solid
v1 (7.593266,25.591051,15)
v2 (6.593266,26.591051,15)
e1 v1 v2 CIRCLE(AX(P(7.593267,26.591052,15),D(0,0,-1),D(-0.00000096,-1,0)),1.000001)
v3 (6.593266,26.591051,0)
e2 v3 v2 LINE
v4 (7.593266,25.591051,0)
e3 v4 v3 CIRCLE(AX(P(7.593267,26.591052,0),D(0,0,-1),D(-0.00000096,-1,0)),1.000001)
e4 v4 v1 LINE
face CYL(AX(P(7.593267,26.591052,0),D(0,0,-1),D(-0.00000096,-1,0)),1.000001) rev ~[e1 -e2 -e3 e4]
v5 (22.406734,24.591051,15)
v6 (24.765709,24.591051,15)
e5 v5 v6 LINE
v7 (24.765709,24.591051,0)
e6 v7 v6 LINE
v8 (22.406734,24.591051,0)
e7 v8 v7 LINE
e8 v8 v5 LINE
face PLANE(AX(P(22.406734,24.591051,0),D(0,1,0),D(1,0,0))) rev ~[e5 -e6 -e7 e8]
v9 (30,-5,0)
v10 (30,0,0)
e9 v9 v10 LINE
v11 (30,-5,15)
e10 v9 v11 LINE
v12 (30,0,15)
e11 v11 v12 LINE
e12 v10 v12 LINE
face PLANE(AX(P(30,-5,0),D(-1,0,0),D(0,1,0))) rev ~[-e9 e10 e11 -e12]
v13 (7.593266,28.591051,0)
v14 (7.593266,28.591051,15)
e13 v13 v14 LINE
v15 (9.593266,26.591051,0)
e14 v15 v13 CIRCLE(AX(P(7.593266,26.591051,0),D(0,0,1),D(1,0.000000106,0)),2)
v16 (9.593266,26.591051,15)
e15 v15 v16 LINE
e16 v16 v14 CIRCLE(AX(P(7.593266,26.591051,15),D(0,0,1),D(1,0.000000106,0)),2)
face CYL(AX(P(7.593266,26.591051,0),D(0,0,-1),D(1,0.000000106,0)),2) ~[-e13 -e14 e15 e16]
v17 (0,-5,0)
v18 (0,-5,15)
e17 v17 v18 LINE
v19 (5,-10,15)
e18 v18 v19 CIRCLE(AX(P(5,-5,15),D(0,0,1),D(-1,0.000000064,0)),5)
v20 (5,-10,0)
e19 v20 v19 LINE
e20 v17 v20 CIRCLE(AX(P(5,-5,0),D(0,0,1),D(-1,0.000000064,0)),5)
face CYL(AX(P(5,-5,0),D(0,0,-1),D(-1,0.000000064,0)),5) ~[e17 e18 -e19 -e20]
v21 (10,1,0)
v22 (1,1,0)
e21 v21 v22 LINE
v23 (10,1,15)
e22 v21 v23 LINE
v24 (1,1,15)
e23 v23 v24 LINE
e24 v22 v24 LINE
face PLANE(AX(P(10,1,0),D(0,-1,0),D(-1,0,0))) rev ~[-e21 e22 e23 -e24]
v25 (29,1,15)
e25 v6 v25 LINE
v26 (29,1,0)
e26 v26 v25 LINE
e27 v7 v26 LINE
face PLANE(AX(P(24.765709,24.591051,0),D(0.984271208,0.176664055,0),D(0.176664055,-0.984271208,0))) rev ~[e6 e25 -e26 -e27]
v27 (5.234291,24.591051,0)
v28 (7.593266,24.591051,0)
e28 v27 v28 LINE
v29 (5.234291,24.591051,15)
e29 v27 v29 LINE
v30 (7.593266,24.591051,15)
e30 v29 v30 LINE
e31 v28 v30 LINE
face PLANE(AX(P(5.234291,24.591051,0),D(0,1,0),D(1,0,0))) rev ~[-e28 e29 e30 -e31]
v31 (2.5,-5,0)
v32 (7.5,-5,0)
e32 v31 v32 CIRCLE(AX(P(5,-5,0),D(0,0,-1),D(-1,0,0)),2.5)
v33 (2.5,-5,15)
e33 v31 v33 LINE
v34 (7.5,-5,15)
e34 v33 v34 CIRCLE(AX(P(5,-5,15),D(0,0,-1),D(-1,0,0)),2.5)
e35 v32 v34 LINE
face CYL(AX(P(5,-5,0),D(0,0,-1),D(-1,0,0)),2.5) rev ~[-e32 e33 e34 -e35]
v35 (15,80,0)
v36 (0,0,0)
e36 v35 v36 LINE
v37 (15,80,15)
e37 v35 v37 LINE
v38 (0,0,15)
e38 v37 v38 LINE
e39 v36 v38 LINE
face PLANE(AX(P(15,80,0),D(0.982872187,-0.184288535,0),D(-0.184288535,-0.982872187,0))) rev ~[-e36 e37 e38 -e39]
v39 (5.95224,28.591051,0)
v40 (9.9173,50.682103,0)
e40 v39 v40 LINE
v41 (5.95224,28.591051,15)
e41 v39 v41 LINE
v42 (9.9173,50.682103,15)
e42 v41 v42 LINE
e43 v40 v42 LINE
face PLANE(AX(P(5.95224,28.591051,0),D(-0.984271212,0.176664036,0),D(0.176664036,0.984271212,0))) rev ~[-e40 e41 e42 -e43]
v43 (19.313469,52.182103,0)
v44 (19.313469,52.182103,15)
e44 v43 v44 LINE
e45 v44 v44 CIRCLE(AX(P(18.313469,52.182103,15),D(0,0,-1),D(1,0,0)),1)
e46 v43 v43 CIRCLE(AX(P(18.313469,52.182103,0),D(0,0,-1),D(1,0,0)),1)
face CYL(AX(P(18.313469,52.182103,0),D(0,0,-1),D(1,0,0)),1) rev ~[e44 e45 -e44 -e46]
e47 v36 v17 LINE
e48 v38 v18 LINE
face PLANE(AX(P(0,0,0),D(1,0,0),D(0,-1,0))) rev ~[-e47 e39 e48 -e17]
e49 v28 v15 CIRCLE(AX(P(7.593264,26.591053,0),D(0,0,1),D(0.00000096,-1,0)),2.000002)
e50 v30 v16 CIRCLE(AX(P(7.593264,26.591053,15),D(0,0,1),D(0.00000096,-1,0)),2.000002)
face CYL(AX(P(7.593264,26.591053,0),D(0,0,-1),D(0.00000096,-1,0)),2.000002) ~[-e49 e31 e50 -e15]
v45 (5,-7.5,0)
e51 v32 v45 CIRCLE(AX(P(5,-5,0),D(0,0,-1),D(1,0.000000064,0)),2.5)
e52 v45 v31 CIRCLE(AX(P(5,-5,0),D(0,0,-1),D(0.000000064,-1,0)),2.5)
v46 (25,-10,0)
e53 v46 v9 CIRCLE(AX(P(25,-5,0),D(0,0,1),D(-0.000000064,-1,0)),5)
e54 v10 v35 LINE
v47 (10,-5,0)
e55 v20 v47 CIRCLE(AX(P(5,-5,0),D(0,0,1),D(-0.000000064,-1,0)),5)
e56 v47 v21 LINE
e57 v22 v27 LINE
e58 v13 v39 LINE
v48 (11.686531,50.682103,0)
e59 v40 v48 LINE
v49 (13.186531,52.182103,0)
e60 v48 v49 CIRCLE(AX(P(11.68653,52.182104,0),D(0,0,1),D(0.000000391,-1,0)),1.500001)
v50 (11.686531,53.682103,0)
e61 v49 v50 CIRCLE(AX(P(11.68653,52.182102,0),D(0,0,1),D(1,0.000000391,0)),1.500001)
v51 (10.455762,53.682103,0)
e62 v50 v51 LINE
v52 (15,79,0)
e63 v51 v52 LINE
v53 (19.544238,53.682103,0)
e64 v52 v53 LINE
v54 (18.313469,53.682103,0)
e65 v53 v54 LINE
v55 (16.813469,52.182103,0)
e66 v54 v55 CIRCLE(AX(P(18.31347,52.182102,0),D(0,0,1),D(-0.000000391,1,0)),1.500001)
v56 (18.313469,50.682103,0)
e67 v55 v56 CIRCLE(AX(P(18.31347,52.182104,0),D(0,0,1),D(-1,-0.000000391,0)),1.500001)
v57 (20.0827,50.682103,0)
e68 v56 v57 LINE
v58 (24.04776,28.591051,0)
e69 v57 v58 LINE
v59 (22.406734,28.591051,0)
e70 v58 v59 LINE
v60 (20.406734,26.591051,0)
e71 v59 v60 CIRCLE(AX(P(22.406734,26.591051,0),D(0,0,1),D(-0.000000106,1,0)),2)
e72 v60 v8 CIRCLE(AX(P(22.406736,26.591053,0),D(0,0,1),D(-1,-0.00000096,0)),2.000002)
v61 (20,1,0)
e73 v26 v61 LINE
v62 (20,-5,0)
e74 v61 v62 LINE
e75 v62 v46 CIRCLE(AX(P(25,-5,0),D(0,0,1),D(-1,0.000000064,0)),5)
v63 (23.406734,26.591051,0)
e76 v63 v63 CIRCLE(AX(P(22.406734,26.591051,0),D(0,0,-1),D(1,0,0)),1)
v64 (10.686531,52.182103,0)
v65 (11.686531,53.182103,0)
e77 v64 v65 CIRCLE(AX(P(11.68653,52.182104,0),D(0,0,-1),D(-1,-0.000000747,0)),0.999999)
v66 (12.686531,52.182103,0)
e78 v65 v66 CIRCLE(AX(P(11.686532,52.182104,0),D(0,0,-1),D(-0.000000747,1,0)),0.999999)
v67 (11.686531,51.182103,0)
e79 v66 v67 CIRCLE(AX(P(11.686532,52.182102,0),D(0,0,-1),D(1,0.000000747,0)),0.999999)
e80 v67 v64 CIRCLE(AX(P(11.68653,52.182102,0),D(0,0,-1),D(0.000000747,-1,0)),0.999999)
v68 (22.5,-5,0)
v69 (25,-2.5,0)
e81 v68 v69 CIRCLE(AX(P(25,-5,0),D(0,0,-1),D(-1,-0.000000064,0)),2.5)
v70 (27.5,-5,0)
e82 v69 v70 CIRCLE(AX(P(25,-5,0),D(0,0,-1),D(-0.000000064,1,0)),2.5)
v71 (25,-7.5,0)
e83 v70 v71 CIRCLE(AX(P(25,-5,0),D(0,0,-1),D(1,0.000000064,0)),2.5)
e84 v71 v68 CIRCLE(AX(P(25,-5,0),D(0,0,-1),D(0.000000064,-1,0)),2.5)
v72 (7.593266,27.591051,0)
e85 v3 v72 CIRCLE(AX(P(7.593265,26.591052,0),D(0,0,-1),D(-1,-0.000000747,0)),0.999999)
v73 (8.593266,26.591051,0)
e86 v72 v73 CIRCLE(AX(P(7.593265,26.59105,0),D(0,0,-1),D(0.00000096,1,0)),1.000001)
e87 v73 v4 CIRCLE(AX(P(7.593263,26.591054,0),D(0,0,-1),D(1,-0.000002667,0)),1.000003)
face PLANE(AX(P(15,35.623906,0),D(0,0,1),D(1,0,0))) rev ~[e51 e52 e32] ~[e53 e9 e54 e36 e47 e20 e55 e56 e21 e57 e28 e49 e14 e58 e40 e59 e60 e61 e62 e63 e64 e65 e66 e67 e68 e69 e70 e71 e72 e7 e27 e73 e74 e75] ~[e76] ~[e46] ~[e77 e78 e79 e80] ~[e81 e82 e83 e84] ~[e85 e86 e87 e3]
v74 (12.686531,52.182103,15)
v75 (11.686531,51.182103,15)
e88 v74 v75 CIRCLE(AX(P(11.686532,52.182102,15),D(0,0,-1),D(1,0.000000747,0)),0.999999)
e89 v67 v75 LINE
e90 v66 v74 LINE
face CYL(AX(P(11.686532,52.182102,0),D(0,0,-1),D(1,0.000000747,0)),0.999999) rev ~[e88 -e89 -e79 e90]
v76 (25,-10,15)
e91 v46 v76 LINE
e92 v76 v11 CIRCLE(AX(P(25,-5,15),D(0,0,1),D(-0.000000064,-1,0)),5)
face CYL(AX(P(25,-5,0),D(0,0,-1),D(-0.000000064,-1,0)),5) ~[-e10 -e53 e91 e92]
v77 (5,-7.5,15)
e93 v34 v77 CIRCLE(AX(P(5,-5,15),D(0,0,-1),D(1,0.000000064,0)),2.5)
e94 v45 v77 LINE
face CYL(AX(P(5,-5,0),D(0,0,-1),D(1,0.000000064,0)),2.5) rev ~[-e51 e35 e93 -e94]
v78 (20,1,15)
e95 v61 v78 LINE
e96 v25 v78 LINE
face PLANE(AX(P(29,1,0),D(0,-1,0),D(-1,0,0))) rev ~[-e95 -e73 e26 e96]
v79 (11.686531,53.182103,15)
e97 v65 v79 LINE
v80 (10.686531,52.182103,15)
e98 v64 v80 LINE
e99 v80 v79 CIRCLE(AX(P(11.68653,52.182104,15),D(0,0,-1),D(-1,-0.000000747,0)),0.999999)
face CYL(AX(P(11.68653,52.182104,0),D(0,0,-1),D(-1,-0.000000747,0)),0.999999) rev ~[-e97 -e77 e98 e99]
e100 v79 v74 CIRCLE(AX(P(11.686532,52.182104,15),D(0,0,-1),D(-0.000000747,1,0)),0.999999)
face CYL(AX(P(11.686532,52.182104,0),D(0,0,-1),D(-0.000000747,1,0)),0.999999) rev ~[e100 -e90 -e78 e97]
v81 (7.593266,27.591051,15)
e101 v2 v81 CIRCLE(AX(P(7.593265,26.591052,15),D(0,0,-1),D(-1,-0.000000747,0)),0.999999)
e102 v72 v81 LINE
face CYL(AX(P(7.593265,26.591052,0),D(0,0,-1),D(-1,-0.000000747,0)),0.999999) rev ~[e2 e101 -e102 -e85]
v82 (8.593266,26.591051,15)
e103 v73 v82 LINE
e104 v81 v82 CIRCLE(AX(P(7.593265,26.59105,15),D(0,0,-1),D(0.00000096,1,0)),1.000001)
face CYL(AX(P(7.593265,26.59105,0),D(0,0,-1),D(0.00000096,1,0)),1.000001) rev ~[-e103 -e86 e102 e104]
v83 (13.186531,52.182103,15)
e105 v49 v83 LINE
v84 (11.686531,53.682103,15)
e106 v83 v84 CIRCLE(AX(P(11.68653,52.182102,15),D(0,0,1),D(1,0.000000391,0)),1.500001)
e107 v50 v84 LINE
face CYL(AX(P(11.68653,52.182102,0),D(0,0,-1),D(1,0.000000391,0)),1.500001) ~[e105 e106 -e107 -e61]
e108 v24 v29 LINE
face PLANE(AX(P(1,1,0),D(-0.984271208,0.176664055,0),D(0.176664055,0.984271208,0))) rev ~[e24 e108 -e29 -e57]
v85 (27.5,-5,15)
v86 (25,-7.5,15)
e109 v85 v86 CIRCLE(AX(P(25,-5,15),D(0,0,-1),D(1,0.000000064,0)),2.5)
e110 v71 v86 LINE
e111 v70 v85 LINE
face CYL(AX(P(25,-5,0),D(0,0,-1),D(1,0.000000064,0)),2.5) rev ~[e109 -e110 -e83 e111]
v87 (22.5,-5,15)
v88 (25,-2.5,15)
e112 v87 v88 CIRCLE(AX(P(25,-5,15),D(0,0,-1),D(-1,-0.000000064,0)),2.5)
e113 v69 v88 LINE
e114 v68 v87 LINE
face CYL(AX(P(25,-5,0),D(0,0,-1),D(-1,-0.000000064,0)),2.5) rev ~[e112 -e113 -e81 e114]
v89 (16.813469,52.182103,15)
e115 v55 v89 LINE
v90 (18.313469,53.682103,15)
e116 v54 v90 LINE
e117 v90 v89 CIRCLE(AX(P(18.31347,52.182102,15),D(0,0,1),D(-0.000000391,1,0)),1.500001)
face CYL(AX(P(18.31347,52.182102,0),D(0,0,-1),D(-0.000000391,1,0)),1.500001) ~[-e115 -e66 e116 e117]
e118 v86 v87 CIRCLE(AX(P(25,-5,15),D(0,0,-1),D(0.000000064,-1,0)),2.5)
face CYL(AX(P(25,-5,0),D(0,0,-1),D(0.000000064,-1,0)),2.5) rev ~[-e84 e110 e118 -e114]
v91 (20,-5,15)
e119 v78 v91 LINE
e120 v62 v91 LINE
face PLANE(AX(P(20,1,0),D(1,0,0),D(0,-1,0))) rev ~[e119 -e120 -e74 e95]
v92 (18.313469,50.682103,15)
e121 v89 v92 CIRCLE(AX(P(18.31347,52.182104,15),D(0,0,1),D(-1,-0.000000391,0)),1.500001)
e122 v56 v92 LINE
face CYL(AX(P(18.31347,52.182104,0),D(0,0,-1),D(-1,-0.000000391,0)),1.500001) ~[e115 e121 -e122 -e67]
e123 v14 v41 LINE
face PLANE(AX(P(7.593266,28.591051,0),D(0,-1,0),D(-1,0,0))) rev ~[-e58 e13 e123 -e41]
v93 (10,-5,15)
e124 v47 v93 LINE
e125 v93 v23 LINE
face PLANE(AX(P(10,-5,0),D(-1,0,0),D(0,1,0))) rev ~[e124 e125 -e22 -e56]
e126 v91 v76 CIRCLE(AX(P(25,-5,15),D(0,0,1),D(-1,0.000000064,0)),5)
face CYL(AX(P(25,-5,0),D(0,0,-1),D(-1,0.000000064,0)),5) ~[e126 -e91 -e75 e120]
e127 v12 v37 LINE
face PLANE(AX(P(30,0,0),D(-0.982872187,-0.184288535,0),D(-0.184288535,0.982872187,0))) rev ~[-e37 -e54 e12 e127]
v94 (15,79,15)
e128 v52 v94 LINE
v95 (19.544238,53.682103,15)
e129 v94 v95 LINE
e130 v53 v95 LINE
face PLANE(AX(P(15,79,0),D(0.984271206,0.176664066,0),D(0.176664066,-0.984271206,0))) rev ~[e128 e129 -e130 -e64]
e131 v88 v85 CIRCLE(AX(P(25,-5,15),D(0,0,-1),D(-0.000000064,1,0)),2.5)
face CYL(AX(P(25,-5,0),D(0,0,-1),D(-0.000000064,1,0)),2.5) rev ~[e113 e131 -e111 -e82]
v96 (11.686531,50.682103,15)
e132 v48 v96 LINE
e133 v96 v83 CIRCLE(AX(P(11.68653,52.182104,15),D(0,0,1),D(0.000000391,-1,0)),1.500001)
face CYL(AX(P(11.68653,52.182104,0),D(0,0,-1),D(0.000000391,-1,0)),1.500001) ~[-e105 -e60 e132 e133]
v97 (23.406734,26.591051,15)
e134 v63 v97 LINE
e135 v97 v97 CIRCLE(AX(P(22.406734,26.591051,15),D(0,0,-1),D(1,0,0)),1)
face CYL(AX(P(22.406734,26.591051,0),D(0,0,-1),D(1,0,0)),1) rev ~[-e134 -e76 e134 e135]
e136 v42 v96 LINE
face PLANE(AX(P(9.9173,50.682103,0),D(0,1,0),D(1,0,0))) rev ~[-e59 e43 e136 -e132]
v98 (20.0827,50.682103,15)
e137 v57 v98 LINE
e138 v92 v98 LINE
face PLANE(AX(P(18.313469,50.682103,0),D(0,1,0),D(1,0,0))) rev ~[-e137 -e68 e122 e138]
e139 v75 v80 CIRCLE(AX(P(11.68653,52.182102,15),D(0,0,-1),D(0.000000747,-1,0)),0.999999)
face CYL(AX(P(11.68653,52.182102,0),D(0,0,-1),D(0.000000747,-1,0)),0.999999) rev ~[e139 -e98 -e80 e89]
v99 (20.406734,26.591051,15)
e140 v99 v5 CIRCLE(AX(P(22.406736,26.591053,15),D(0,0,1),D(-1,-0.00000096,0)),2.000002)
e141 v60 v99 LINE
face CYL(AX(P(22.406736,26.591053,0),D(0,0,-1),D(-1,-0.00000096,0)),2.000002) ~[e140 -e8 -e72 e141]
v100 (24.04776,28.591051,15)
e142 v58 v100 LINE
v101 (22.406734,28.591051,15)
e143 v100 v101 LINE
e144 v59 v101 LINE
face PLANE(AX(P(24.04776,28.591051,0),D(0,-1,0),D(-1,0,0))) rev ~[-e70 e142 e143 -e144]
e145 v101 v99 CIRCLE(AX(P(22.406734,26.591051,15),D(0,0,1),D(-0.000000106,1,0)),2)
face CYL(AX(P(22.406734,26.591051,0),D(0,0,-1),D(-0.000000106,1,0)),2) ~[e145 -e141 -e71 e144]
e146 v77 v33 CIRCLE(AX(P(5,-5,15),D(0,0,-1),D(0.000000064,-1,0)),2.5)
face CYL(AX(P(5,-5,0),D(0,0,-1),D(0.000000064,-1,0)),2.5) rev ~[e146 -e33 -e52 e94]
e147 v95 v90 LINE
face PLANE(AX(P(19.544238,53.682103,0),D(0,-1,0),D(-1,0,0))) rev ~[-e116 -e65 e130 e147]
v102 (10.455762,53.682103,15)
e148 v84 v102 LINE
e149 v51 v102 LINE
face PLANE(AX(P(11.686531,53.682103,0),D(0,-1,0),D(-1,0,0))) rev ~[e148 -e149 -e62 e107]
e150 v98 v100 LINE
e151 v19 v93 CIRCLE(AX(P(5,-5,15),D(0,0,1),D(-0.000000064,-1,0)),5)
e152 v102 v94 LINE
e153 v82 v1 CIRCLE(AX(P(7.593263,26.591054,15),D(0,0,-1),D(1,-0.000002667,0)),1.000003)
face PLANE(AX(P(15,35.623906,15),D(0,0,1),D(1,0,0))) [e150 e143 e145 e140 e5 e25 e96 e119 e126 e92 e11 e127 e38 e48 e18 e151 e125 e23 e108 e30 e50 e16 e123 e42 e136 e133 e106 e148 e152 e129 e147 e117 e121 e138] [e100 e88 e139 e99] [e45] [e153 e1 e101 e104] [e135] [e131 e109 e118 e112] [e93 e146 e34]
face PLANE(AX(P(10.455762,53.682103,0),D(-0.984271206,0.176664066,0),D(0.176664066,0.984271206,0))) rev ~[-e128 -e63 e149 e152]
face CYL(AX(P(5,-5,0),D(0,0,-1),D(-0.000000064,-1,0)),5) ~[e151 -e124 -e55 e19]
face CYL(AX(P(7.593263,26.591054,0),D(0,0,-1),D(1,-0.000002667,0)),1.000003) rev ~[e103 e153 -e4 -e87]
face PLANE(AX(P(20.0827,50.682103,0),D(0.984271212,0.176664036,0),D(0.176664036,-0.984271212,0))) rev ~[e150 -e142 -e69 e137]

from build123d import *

# Parameters (mm, degrees)
F1_DEPTH = 15


with BuildPart() as f1:
    # F0 (on Top) → F1 (new body)
    with BuildSketch(Plane.XY):
        Polygon((15, 80), (0, 0), (1, 0), (10, 0), (10, 1), (1, 1), (5.234291, 24.591051), (5.593266, 26.591051), (5.95224, 28.591051), (9.9173, 50.682103), (10.186531, 52.182103), (10.455762, 53.682103), (15, 79), (19.544238, 53.682103), (19.813469, 52.182103), (20.0827, 50.682103), (24.04776, 28.591051), (24.406734, 26.591051), (24.765709, 24.591051), (29, 1), (20, 1), (20, 0), (25, 0), (30, 0), align=None)
        with BuildLine():
            Line((1, 0), (0, 0))
            Line((0, 0), (0, -5))
            Line((0, -5), (2.5, -5))
            ThreePointArc((2.5, -5), (5, -2.5), (7.5, -5))
            Line((7.5, -5), (10, -5))
            Line((10, -5), (10, 0))
            Line((10, 0), (1, 0))
        make_face()
        with BuildLine():
            Line((2.5, -5), (0, -5))
            ThreePointArc((0, -5), (1.464466, -8.535534), (5, -10))
            Line((5, -10), (5, -7.5))
            ThreePointArc((5, -7.5), (3.232233, -6.767767), (2.5, -5))
        make_face()
        with BuildLine():
            Line((30, -5), (30, 0))
            Line((30, 0), (25, 0))
            Line((25, 0), (25, -2.5))
            ThreePointArc((25, -2.5), (26.767767, -3.232233), (27.5, -5))
            Line((27.5, -5), (30, -5))
        make_face()
        with BuildLine():
            Line((5, -7.5), (5, -10))
            ThreePointArc((5, -10), (8.535534, -8.535534), (10, -5))
            Line((10, -5), (7.5, -5))
            ThreePointArc((7.5, -5), (6.767767, -6.767767), (5, -7.5))
        make_face()
        with BuildLine():
            Line((25, -2.5), (25, 0))
            Line((25, 0), (20, 0))
            Line((20, 0), (20, -5))
            Line((20, -5), (22.5, -5))
            ThreePointArc((22.5, -5), (23.232233, -3.232233), (25, -2.5))
        make_face()
        with BuildLine():
            ThreePointArc((25, -10), (28.535534, -8.535534), (30, -5))
            Line((30, -5), (27.5, -5))
            ThreePointArc((27.5, -5), (26.767767, -6.767767), (25, -7.5))
            Line((25, -7.5), (25, -10))
        make_face()
        with BuildLine():
            ThreePointArc((20, -5), (21.464466, -8.535534), (25, -10))
            Line((25, -10), (25, -7.5))
            ThreePointArc((25, -7.5), (23.232233, -6.767767), (22.5, -5))
            Line((22.5, -5), (20, -5))
        make_face()
        with BuildLine():
            Line((5.593266, 26.591051), (5.234291, 24.591051))
            Line((5.234291, 24.591051), (7.593266, 24.591051))
            Line((7.593266, 24.591051), (7.593266, 25.591051))
            ThreePointArc((7.593266, 25.591051), (6.886159, 25.883945), (6.593266, 26.591051))
            Line((6.593266, 26.591051), (5.593266, 26.591051))
        make_face()
        with BuildLine():
            Line((5.95224, 28.591051), (5.593266, 26.591051))
            Line((5.593266, 26.591051), (6.593266, 26.591051))
            ThreePointArc((6.593266, 26.591051), (6.886159, 27.298158), (7.593266, 27.591051))
            Line((7.593266, 27.591051), (7.593266, 28.591051))
            Line((7.593266, 28.591051), (5.95224, 28.591051))
        make_face()
        with BuildLine():
            Line((7.593266, 25.591051), (7.593266, 24.591051))
            ThreePointArc((7.593266, 24.591051), (9.007479, 25.176838), (9.593266, 26.591051))
            Line((9.593266, 26.591051), (8.593266, 26.591051))
            ThreePointArc((8.593266, 26.591051), (8.300372, 25.883945), (7.593266, 25.591051))
        make_face()
        with BuildLine():
            Line((8.593266, 26.591051), (9.593266, 26.591051))
            ThreePointArc((9.593266, 26.591051), (9.007479, 28.005265), (7.593266, 28.591051))
            Line((7.593266, 28.591051), (7.593266, 27.591051))
            ThreePointArc((7.593266, 27.591051), (8.300372, 27.298158), (8.593266, 26.591051))
        make_face()
        with BuildLine():
            Line((22.406734, 24.591051), (24.765709, 24.591051))
            Line((24.765709, 24.591051), (24.406734, 26.591051))
            Line((24.406734, 26.591051), (23.406734, 26.591051))
            ThreePointArc((23.406734, 26.591051), (22.406734, 25.591051), (21.406734, 26.591051))
            Line((21.406734, 26.591051), (20.406734, 26.591051))
            ThreePointArc((20.406734, 26.591051), (20.992521, 25.176838), (22.406734, 24.591051))
        make_face()
        with BuildLine():
            Line((10.186531, 52.182103), (9.9173, 50.682103))
            Line((9.9173, 50.682103), (11.686531, 50.682103))
            Line((11.686531, 50.682103), (11.686531, 51.182103))
            ThreePointArc((11.686531, 51.182103), (10.979424, 51.474996), (10.686531, 52.182103))
            Line((10.686531, 52.182103), (10.186531, 52.182103))
        make_face()
        with BuildLine():
            Line((23.406734, 26.591051), (24.406734, 26.591051))
            Line((24.406734, 26.591051), (24.04776, 28.591051))
            Line((24.04776, 28.591051), (22.406734, 28.591051))
            ThreePointArc((22.406734, 28.591051), (20.992521, 28.005265), (20.406734, 26.591051))
            Line((20.406734, 26.591051), (21.406734, 26.591051))
            ThreePointArc((21.406734, 26.591051), (22.406734, 27.591051), (23.406734, 26.591051))
        make_face()
        with BuildLine():
            Line((10.455762, 53.682103), (10.186531, 52.182103))
            Line((10.186531, 52.182103), (10.686531, 52.182103))
            ThreePointArc((10.686531, 52.182103), (10.979424, 52.88921), (11.686531, 53.182103))
            Line((11.686531, 53.182103), (11.686531, 53.682103))
            Line((11.686531, 53.682103), (10.455762, 53.682103))
        make_face()
        with BuildLine():
            Line((11.686531, 51.182103), (11.686531, 50.682103))
            ThreePointArc((11.686531, 50.682103), (12.747191, 51.121443), (13.186531, 52.182103))
            Line((13.186531, 52.182103), (12.686531, 52.182103))
            ThreePointArc((12.686531, 52.182103), (12.393638, 51.474996), (11.686531, 51.182103))
        make_face()
        with BuildLine():
            Line((12.686531, 52.182103), (13.186531, 52.182103))
            ThreePointArc((13.186531, 52.182103), (12.747191, 53.242763), (11.686531, 53.682103))
            Line((11.686531, 53.682103), (11.686531, 53.182103))
            ThreePointArc((11.686531, 53.182103), (12.393638, 52.88921), (12.686531, 52.182103))
        make_face()
        with BuildLine():
            Line((18.313469, 50.682103), (20.0827, 50.682103))
            Line((20.0827, 50.682103), (19.813469, 52.182103))
            Line((19.813469, 52.182103), (19.313469, 52.182103))
            ThreePointArc((19.313469, 52.182103), (18.313469, 51.182103), (17.313469, 52.182103))
            Line((17.313469, 52.182103), (16.813469, 52.182103))
            ThreePointArc((16.813469, 52.182103), (17.252809, 51.121443), (18.313469, 50.682103))
        make_face()
        with BuildLine():
            Line((19.313469, 52.182103), (19.813469, 52.182103))
            Line((19.813469, 52.182103), (19.544238, 53.682103))
            Line((19.544238, 53.682103), (18.313469, 53.682103))
            ThreePointArc((18.313469, 53.682103), (17.252809, 53.242763), (16.813469, 52.182103))
            Line((16.813469, 52.182103), (17.313469, 52.182103))
            ThreePointArc((17.313469, 52.182103), (18.313469, 53.182103), (19.313469, 52.182103))
        make_face()
    extrude(amount=F1_DEPTH)


solid = f1.part
